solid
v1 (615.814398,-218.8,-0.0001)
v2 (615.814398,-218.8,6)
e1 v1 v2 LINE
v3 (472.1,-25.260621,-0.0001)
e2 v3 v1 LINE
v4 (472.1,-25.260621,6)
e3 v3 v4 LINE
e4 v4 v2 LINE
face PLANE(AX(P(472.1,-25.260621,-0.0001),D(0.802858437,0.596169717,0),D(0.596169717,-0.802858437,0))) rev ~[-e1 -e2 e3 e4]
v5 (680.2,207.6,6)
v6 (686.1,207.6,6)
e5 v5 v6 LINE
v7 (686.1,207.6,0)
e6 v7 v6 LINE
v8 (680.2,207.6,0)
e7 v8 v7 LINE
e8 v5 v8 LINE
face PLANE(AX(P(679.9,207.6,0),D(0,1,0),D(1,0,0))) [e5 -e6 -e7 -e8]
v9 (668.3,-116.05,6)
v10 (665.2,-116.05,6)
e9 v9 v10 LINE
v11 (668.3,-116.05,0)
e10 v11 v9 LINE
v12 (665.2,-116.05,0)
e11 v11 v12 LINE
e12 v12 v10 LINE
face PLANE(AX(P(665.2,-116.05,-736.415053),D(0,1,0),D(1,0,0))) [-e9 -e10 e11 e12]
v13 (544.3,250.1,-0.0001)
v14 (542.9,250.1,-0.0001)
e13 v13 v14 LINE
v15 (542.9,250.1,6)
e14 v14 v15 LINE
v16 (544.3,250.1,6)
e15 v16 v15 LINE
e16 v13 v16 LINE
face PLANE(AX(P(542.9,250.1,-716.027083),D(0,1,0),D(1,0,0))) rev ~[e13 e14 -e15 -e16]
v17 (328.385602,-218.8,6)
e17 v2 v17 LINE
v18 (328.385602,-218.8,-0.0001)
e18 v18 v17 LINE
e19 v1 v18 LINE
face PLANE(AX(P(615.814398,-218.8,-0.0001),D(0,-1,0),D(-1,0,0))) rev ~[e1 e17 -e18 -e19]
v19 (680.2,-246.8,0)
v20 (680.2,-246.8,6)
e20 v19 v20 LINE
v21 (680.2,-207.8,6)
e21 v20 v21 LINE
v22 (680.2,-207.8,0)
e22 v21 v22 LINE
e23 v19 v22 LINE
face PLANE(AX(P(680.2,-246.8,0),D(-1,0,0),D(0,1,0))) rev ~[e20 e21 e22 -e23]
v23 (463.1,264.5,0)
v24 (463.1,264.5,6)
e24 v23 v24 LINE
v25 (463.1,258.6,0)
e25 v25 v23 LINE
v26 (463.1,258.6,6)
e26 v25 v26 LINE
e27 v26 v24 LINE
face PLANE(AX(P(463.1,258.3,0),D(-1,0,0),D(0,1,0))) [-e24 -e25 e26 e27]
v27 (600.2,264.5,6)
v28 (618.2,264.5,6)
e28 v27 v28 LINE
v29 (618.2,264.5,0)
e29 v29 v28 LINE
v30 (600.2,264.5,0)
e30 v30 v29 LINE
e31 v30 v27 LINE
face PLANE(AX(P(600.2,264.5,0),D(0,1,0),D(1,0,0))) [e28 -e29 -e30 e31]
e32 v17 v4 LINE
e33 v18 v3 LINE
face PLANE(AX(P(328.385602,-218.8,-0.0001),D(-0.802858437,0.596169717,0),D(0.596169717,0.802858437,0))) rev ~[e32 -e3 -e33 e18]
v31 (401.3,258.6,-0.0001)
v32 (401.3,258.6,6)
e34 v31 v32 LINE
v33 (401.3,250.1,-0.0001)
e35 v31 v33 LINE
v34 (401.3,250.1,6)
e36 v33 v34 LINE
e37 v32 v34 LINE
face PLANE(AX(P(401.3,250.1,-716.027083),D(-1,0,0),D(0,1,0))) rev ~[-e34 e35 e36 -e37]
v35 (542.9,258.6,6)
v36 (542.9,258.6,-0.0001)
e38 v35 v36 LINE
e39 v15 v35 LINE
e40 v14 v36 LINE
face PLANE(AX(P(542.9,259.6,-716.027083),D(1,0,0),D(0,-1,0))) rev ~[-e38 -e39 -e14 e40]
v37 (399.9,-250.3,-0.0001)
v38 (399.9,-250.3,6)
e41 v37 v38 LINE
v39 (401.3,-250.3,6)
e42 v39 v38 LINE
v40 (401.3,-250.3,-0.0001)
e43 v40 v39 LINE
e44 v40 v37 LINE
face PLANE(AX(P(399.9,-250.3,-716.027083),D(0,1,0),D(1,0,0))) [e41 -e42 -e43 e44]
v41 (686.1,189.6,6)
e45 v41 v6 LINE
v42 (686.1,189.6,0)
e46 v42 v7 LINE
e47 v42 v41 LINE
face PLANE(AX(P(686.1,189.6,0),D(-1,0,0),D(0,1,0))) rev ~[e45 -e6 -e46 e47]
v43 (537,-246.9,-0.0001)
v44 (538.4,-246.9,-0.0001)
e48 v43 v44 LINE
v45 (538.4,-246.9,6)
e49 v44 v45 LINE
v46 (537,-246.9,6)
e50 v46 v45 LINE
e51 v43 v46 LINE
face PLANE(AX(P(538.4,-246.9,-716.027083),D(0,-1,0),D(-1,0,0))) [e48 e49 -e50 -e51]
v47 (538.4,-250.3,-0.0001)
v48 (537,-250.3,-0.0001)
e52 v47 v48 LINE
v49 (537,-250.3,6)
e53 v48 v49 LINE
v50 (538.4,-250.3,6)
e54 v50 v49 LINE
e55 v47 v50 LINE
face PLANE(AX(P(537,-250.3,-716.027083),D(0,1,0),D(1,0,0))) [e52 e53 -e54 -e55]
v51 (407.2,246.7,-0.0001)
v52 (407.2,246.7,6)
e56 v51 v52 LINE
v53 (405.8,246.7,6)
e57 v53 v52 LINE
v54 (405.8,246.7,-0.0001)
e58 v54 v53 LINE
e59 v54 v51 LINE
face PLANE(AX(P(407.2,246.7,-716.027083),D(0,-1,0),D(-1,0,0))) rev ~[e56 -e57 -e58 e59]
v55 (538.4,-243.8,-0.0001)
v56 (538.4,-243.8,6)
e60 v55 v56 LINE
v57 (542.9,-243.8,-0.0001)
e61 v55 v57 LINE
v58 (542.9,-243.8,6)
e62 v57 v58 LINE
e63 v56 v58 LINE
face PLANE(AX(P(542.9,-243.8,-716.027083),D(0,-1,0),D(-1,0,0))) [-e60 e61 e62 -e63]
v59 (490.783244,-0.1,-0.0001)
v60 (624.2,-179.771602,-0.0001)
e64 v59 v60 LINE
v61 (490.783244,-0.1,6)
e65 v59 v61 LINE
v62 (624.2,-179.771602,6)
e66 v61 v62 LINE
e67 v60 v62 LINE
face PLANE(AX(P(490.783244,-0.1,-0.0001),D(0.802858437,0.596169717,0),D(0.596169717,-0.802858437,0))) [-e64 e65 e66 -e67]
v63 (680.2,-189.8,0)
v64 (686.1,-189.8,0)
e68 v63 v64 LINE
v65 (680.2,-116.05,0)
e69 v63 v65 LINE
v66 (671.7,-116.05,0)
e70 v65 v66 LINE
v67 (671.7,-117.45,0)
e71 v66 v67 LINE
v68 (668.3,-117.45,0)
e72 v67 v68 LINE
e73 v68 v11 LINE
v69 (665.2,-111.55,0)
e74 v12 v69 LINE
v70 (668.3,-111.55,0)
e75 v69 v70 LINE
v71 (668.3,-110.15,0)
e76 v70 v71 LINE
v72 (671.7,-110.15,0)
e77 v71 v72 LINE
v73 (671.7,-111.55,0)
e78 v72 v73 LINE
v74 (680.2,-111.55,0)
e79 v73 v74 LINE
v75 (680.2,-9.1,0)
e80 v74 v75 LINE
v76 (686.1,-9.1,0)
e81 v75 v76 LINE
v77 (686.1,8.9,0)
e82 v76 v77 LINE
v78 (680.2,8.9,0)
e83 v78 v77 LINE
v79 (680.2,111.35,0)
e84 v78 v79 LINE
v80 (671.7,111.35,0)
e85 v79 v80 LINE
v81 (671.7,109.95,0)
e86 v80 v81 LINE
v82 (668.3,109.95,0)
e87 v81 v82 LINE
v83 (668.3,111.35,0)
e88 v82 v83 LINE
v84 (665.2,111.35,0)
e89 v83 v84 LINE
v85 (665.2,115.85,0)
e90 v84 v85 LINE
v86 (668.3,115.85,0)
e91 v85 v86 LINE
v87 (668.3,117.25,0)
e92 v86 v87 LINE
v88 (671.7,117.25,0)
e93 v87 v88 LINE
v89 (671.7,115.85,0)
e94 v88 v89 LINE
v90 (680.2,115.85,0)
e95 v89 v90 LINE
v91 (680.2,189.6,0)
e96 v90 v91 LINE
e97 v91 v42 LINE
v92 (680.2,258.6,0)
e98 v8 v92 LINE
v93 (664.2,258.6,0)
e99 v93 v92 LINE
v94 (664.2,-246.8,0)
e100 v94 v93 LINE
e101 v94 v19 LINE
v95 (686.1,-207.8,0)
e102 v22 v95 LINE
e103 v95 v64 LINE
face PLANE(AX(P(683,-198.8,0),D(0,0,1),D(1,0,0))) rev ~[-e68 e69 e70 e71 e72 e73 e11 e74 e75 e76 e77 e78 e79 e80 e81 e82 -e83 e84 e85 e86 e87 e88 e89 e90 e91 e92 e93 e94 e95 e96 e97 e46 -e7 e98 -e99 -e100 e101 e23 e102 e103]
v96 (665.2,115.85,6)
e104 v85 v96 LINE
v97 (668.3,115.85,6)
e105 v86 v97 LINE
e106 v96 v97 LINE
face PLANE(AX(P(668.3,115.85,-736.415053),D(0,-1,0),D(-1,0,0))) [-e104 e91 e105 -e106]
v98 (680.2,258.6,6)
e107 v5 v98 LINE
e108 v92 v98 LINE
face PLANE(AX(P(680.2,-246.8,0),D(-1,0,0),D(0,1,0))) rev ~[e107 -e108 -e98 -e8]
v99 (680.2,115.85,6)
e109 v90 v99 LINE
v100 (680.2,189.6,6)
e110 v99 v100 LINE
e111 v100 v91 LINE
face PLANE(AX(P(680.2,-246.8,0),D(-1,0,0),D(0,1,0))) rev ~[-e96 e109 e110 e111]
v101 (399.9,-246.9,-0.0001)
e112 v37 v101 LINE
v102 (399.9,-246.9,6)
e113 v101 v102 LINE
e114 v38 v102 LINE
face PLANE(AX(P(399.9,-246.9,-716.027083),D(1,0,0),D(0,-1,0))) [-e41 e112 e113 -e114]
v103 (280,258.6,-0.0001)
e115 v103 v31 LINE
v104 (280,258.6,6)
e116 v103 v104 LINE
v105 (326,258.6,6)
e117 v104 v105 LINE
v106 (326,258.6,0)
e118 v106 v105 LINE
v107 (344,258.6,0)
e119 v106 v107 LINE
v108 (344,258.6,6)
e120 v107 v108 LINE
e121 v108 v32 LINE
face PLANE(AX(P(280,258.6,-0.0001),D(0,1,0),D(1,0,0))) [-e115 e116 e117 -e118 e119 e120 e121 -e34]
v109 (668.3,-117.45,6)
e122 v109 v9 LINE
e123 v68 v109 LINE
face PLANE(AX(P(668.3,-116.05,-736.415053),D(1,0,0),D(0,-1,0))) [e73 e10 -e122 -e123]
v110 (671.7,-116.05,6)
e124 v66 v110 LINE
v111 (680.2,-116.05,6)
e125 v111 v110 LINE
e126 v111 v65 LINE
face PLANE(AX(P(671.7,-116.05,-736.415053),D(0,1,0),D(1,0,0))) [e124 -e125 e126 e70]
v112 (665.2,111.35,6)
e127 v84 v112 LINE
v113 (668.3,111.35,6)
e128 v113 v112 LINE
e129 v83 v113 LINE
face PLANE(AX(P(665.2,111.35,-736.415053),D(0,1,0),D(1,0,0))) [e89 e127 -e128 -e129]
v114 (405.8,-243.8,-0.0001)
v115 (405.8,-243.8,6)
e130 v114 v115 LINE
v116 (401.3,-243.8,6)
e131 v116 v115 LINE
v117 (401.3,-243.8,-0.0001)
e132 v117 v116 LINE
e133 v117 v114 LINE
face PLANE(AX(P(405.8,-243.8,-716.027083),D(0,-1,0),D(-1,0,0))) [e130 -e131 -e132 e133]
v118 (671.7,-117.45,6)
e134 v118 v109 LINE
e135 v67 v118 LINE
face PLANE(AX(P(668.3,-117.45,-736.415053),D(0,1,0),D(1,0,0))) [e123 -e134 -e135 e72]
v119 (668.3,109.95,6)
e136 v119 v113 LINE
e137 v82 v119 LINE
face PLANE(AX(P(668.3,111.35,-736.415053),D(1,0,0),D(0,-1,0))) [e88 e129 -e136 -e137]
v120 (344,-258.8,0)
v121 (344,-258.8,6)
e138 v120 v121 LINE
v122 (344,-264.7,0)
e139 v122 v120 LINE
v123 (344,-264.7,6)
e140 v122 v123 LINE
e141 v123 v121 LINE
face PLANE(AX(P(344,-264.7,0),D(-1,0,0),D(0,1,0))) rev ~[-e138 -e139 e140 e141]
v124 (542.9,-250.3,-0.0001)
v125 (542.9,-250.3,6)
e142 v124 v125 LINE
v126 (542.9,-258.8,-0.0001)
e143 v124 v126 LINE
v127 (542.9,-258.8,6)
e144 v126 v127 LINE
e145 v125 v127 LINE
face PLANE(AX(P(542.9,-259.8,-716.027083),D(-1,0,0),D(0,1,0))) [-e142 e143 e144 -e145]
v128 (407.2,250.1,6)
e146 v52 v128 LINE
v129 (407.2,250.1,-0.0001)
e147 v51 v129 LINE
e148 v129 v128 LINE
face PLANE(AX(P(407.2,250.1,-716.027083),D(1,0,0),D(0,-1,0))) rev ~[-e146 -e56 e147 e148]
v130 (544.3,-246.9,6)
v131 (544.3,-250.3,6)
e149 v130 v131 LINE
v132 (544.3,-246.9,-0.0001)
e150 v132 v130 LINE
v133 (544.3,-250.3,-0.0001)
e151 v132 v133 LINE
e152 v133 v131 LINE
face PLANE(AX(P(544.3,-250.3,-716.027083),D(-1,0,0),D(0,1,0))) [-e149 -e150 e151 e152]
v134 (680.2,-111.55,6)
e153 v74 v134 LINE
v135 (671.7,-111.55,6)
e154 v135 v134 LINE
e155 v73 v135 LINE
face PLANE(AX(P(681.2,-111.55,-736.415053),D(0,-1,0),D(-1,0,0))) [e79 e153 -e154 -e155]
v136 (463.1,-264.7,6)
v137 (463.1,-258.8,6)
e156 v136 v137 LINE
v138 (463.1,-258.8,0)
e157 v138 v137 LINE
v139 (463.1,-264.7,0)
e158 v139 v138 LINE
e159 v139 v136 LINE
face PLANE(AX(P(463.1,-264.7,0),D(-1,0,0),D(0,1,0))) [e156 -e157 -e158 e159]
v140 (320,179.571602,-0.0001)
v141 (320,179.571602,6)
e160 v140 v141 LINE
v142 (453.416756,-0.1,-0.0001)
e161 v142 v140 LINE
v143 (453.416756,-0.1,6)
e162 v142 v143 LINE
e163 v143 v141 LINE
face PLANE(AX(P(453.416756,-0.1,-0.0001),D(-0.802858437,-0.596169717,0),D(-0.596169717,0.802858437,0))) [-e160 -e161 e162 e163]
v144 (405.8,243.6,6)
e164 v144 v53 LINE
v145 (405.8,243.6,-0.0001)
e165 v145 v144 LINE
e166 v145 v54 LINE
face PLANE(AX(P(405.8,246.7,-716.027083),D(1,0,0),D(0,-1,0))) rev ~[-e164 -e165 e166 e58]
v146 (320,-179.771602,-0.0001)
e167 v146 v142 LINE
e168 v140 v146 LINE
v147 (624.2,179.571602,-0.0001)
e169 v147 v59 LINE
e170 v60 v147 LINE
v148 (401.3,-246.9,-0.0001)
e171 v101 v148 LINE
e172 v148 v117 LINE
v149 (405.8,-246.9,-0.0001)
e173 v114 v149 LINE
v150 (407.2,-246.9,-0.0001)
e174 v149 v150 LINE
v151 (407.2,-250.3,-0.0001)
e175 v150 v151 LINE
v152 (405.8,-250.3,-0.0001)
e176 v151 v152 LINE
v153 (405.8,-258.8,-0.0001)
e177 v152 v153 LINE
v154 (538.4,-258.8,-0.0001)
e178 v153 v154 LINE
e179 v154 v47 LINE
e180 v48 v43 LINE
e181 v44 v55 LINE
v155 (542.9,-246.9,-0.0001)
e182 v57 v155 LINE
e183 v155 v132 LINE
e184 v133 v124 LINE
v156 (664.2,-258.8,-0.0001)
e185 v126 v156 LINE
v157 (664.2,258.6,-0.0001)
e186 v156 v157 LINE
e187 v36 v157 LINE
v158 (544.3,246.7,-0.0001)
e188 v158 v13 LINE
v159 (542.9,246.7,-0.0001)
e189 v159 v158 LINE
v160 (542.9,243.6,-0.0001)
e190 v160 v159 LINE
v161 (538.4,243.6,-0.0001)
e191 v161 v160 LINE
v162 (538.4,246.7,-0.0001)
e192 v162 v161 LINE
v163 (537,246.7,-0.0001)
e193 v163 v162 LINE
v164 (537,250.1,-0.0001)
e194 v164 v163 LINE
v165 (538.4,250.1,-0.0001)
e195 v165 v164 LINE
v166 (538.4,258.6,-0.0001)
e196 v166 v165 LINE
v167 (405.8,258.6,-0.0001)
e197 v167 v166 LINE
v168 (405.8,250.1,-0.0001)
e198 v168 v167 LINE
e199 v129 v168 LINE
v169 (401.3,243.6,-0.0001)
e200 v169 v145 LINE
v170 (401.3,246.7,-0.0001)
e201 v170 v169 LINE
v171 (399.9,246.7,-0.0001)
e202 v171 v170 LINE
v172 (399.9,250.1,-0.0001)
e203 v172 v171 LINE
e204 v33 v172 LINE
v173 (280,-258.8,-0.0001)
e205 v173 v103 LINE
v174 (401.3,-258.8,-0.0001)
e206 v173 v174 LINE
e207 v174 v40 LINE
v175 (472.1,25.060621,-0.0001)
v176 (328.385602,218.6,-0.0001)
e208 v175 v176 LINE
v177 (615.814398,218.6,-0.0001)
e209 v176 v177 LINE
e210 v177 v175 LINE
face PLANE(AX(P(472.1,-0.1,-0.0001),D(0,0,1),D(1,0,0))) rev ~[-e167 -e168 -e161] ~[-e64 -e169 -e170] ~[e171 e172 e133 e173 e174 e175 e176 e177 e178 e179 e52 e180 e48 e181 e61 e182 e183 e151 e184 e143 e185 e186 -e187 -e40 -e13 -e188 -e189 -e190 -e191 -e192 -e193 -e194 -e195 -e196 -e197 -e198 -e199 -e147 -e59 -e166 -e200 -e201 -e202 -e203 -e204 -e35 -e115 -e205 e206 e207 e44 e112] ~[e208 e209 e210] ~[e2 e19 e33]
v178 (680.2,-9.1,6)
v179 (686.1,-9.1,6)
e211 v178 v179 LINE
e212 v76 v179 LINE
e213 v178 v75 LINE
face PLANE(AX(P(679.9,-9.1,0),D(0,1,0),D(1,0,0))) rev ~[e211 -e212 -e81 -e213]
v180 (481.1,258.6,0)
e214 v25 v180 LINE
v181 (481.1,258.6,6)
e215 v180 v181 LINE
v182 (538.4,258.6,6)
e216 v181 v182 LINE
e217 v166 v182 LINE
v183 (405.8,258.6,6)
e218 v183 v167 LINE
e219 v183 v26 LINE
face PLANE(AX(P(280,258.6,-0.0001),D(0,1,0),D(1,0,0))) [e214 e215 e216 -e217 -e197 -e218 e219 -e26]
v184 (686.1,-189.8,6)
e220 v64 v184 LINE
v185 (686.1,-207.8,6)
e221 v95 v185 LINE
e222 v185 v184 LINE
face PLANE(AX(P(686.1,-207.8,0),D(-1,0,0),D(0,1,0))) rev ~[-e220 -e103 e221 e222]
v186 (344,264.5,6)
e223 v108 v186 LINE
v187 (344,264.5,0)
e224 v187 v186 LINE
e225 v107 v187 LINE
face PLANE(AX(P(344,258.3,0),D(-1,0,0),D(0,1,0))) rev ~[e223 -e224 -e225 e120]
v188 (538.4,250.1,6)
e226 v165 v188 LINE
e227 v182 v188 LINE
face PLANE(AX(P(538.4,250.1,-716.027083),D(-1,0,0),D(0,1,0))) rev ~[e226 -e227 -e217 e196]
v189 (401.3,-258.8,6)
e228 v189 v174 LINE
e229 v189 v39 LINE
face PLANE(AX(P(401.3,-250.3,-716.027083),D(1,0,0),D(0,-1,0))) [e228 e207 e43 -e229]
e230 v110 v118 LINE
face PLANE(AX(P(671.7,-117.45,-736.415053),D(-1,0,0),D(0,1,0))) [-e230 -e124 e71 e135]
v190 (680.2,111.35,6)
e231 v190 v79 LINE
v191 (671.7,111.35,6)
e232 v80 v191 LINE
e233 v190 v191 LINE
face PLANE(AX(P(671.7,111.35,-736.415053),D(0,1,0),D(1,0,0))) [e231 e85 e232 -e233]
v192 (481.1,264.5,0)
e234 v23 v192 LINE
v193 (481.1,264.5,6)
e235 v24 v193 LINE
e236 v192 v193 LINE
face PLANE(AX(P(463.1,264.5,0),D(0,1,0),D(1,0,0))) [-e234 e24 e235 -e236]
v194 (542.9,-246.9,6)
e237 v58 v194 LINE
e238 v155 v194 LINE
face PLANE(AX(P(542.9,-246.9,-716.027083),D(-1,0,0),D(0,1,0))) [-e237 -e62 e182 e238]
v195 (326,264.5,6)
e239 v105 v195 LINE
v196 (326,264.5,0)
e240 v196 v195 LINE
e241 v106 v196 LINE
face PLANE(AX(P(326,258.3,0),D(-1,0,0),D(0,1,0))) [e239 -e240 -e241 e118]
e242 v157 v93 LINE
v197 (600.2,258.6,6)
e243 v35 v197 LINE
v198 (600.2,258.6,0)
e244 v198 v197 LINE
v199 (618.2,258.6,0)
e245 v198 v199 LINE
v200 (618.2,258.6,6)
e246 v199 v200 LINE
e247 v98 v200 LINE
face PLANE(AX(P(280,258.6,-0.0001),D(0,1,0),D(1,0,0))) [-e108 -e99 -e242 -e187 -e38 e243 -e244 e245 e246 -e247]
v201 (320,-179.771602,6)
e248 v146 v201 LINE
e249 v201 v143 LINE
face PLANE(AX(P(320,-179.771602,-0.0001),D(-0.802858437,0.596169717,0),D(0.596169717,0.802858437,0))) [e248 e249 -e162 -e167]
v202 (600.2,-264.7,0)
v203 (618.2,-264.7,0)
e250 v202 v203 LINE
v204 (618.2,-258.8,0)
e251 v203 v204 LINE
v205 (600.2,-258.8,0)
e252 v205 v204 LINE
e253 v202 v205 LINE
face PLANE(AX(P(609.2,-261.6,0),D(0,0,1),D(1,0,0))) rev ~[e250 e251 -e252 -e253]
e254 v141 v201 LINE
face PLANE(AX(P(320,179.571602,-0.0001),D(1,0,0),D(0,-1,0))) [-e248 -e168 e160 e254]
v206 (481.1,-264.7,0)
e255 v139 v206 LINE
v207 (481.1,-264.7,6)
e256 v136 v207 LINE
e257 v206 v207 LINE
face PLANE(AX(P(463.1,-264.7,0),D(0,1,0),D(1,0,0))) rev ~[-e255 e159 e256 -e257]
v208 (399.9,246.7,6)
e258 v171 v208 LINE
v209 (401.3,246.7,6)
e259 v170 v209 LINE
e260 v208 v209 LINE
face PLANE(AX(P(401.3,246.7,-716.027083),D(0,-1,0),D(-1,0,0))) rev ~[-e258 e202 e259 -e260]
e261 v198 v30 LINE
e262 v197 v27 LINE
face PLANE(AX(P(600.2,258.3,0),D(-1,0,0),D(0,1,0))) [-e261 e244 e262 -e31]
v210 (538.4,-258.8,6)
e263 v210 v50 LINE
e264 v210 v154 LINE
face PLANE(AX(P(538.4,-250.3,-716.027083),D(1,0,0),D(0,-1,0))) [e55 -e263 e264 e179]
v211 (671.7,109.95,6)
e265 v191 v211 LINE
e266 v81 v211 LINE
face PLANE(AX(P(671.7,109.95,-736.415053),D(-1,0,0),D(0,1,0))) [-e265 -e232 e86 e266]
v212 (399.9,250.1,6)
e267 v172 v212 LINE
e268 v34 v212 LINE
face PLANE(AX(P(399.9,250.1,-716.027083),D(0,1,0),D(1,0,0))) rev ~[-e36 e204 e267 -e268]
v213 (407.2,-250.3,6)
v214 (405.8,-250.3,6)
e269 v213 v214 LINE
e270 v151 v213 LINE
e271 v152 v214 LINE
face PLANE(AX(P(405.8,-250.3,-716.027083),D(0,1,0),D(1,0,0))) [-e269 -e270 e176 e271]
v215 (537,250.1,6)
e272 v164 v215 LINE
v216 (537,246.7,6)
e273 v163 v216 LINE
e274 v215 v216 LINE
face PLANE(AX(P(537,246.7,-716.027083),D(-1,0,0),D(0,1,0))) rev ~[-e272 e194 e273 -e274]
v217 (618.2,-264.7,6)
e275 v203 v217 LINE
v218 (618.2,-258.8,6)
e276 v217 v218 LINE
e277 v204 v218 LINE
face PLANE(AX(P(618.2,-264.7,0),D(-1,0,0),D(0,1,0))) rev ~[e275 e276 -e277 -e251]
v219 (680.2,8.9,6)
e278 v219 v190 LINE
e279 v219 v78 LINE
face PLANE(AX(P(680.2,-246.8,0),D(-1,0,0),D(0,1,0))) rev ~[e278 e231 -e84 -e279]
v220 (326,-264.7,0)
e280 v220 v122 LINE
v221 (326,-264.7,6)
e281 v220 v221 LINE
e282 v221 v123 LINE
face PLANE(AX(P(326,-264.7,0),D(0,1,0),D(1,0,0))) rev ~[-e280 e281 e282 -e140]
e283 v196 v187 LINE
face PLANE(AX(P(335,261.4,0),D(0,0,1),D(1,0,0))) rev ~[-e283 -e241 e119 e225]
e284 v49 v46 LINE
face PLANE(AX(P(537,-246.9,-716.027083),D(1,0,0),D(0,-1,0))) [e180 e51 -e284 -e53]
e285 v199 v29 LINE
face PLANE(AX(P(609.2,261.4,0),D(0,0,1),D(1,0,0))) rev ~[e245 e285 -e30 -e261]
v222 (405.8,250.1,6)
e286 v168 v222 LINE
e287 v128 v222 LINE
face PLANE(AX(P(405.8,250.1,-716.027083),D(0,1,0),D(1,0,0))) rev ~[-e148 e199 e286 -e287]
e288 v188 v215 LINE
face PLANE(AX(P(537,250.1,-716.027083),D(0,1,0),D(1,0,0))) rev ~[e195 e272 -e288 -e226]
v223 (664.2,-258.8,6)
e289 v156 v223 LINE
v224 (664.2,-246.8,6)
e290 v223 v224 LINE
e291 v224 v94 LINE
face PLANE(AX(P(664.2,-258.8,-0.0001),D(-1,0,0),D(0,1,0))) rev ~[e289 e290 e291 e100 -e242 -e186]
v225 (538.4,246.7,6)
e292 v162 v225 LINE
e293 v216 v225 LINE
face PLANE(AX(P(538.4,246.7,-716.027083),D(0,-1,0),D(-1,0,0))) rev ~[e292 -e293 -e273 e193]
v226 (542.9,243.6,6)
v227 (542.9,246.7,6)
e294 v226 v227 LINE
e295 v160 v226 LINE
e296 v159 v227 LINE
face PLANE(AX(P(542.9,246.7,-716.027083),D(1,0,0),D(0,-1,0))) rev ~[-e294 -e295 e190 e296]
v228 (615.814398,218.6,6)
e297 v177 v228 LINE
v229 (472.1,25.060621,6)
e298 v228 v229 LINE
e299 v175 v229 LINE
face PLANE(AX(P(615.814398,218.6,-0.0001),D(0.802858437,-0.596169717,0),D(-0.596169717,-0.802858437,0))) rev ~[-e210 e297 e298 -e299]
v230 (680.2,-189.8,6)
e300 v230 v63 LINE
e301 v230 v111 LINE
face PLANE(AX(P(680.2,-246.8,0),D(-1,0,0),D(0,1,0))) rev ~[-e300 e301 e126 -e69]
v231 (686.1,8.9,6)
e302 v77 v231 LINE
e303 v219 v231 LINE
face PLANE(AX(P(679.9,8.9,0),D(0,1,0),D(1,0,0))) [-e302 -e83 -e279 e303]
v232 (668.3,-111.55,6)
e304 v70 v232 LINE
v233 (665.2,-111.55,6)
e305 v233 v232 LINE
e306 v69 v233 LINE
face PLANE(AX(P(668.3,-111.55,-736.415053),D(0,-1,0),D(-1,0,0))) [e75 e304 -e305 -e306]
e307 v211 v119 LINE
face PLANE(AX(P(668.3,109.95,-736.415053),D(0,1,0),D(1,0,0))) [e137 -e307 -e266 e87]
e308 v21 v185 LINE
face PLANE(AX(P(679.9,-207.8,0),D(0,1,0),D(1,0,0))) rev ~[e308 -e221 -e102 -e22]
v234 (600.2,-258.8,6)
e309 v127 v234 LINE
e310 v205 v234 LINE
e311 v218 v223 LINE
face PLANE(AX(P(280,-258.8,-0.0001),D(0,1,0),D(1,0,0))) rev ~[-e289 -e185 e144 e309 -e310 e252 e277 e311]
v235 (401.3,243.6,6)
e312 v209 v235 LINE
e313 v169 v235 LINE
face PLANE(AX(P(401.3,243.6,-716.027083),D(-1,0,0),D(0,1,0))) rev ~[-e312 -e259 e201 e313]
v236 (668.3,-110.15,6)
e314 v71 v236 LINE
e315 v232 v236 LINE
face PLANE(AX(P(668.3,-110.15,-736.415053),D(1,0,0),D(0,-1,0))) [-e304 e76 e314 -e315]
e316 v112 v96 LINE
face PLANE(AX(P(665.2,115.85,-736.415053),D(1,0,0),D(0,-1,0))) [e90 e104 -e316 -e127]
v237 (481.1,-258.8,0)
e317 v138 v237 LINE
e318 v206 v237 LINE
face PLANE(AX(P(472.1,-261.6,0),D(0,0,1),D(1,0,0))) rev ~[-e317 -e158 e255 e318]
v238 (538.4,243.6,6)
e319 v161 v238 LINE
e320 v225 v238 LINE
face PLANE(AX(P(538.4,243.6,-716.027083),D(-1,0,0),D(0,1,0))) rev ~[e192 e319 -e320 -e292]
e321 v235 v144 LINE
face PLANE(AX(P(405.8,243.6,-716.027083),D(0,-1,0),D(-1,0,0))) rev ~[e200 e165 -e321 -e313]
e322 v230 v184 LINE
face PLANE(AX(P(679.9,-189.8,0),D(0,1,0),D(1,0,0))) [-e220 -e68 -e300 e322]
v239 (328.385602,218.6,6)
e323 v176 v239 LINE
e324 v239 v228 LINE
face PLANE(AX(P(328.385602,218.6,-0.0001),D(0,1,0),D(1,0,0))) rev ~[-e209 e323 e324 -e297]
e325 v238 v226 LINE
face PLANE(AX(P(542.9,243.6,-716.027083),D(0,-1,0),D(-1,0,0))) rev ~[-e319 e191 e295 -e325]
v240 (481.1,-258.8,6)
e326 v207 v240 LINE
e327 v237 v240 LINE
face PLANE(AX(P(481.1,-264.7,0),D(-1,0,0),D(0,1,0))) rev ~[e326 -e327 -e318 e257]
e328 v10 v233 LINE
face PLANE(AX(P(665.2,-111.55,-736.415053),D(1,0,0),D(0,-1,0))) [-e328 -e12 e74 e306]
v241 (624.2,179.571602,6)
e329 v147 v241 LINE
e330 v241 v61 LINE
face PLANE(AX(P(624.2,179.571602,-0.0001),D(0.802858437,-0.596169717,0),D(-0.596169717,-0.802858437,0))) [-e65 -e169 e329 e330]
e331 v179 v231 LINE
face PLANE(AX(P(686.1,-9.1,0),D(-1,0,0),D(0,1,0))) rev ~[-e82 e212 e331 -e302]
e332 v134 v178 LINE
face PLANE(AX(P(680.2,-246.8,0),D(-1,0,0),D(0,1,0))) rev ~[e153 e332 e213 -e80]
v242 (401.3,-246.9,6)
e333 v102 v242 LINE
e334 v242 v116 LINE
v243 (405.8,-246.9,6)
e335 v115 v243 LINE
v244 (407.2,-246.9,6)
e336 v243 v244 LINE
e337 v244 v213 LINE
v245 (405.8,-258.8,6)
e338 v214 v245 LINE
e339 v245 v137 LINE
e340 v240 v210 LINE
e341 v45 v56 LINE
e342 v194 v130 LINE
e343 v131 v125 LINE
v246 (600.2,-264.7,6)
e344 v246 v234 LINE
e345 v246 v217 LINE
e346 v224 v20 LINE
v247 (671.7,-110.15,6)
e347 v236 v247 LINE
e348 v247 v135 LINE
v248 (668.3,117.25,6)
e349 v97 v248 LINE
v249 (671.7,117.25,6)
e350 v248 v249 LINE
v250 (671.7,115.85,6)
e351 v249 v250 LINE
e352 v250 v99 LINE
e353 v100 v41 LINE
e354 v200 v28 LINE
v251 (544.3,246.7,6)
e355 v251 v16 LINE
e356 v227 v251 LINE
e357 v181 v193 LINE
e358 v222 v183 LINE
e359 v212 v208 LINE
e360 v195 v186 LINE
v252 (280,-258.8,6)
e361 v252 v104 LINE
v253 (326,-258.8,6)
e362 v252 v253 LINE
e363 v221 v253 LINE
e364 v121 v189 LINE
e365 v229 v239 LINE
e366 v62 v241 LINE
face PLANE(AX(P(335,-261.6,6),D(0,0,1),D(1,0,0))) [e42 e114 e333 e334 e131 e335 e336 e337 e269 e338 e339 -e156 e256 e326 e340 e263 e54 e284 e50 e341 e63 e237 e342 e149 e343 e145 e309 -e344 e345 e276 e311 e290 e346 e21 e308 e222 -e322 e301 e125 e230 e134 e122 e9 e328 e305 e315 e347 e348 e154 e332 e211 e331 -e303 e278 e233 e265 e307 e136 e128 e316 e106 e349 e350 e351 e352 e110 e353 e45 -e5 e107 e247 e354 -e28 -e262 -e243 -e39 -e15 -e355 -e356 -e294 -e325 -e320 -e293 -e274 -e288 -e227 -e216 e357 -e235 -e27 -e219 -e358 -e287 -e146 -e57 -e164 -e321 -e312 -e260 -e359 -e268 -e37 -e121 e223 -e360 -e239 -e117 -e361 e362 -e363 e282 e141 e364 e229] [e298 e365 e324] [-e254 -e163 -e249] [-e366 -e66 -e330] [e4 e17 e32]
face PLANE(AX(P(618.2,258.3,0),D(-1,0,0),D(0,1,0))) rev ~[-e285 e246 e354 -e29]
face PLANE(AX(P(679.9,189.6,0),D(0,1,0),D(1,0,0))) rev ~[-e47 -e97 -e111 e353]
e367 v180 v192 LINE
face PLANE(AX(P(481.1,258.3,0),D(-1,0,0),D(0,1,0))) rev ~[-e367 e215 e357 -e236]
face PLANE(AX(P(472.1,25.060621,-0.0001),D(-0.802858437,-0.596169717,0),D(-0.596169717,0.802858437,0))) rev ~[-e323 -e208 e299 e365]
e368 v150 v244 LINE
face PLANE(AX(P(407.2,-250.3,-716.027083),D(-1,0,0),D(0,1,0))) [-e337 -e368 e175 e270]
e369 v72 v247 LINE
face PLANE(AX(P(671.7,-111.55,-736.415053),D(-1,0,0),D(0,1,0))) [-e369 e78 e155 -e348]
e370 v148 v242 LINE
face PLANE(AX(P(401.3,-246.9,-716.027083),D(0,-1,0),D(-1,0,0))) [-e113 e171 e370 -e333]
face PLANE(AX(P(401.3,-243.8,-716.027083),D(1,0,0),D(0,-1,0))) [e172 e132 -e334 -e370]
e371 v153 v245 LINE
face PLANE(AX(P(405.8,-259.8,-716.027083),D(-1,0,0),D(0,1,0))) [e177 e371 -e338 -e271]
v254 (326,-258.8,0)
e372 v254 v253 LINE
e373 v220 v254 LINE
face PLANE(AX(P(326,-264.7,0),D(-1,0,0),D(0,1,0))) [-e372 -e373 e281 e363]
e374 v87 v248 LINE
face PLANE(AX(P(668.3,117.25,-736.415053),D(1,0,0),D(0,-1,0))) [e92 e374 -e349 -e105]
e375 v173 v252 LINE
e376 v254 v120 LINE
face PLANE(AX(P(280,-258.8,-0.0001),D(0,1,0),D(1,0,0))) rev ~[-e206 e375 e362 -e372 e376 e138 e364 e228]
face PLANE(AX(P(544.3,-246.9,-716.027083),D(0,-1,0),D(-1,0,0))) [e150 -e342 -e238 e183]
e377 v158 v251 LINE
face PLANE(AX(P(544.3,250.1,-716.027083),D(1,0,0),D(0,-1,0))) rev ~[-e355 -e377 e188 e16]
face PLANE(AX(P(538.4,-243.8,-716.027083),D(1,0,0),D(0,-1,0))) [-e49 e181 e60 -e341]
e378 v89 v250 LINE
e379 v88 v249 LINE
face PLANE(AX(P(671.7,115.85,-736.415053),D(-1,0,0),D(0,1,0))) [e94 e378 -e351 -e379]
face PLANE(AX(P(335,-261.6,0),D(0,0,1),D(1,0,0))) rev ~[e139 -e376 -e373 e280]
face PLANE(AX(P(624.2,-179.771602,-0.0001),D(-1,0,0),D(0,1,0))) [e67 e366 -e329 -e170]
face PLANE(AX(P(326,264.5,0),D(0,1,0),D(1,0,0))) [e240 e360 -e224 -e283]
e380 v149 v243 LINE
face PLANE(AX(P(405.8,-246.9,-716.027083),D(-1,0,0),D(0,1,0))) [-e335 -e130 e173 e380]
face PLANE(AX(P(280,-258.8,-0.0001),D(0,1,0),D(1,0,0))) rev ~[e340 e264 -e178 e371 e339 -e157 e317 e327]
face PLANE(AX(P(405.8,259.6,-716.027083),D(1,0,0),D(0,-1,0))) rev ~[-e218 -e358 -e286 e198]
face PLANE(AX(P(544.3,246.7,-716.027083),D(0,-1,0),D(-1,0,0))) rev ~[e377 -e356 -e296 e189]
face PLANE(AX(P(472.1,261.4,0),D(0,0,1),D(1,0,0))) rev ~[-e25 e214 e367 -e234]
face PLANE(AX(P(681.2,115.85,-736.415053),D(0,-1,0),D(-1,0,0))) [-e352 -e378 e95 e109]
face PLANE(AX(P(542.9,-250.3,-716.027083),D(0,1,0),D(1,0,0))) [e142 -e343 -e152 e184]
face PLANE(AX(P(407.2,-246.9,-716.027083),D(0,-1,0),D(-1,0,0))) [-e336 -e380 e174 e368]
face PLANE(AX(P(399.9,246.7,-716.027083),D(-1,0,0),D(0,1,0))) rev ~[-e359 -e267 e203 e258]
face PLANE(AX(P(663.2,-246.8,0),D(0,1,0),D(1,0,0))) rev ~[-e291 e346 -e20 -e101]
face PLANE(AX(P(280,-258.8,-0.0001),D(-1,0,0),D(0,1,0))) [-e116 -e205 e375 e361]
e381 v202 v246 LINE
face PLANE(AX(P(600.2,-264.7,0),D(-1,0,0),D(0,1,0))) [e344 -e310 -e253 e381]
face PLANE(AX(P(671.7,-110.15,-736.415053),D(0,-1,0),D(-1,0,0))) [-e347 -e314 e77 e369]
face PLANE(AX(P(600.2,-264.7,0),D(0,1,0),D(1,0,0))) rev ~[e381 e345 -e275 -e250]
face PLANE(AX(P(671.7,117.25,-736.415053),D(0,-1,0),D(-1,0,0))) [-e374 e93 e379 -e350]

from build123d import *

# Parameters (mm, degrees)
EXTRUDE_1_DEPTH            = 6
EXTRUDE_1_DEPTH_BACK       = 0.0001
SKETCH_1_W                 = 384.2
SKETCH_1_H                 = 517.4
SKETCH_2562_W              = 18
SKETCH_2562_H              = 6.2
EXTRUDE_2573_DEPTH         = 6
CUT_EXTRUDE_4_DEPTH        = 716.027083403
CUT_EXTRUDE_4_DEPTH_BACK   = 716.027083403
SKETCH_2698_W              = 17
SKETCH_2698_H              = 505.4
EXTRUDE_2764_DEPTH         = 6
SKETCH_2820_W              = 6.2
SKETCH_2820_H              = 18
EXTRUDE_2968_DEPTH         = 6
CUT_EXTRUDE_4_2_DEPTH      = 736.415052878
CUT_EXTRUDE_4_2_DEPTH_BACK = 736.415052878


with BuildPart() as part:
    # Эскиз1 → Бобышка-Вытянуть1 (new, two sides: drawn at the far end of the back side and taken through both)
    with BuildSketch(Plane.XY.offset(-EXTRUDE_1_DEPTH_BACK)):
        with Locations((472.1, -0.1)):
            Rectangle(SKETCH_1_W, SKETCH_1_H)
        Polygon((624.2, 179.571602285), (490.783243916, -0.1), (624.2, -179.771602285), align=None, mode=Mode.SUBTRACT)
        Polygon((615.81439814, 218.6), (472.1, 25.060620516), (328.38560186, 218.6), align=None, mode=Mode.SUBTRACT)
        Polygon((615.81439814, -218.8), (328.38560186, -218.8), (472.1, -25.260620516), align=None, mode=Mode.SUBTRACT)
        Polygon((320, 179.571602285), (320, -179.771602285), (453.416756084, -0.1), align=None, mode=Mode.SUBTRACT)
    extrude(amount=EXTRUDE_1_DEPTH + EXTRUDE_1_DEPTH_BACK)

    # Sketch 2562 → Extrude 2573 (add)
    with BuildSketch(Plane.XY):
        with Locations((335, -261.6)):
            Rectangle(SKETCH_2562_W, SKETCH_2562_H)
        with Locations((472.1, -261.6)):
            Rectangle(SKETCH_2562_W, SKETCH_2562_H)
        with Locations((609.2, -261.6)):
            Rectangle(SKETCH_2562_W, SKETCH_2562_H)
        with Locations((335, 261.4)):
            Rectangle(SKETCH_2562_W, SKETCH_2562_H)
        with Locations((472.1, 261.4)):
            Rectangle(SKETCH_2562_W, SKETCH_2562_H)
        with Locations((609.2, 261.4)):
            Rectangle(SKETCH_2562_W, SKETCH_2562_H)
    extrude(amount=EXTRUDE_2573_DEPTH)

    # Sketch 4 → Cut-Extrude 4 (cut, two sides: drawn at the far end of the back side and taken through both)
    with BuildSketch(Plane.XY.offset(-CUT_EXTRUDE_4_DEPTH_BACK)):
        Polygon((401.3, -259.8), (405.8, -259.8), (405.8, -250.3), (407.2, -250.3), (407.2, -246.9), (405.8, -246.9), (405.8, -243.8), (401.3, -243.8), (401.3, -246.9), (399.9, -246.9), (399.9, -250.3), (401.3, -250.3), align=None)
        Polygon((538.4, -259.8), (542.9, -259.8), (542.9, -250.3), (544.3, -250.3), (544.3, -246.9), (542.9, -246.9), (542.9, -243.8), (538.4, -243.8), (538.4, -246.9), (537, -246.9), (537, -250.3), (538.4, -250.3), align=None)
        Polygon((401.3, 259.6), (405.8, 259.6), (405.8, 250.1), (407.2, 250.1), (407.2, 246.7), (405.8, 246.7), (405.8, 243.6), (401.3, 243.6), (401.3, 246.7), (399.9, 246.7), (399.9, 250.1), (401.3, 250.1), align=None)
        Polygon((538.4, 259.6), (542.9, 259.6), (542.9, 250.1), (544.3, 250.1), (544.3, 246.7), (542.9, 246.7), (542.9, 243.6), (538.4, 243.6), (538.4, 246.7), (537, 246.7), (537, 250.1), (538.4, 250.1), align=None)
    extrude(amount=CUT_EXTRUDE_4_DEPTH + CUT_EXTRUDE_4_DEPTH_BACK, mode=Mode.SUBTRACT)

    # Sketch 2698 → Extrude 2764 (add)
    with BuildSketch(Plane.XY):
        with Locations((671.7, 5.9)):
            Rectangle(SKETCH_2698_W, SKETCH_2698_H)
    extrude(amount=EXTRUDE_2764_DEPTH)

    # Sketch 2820 → Extrude 2968 (add)
    with BuildSketch(Plane.XY):
        with Locations((683, -198.8)):
            Rectangle(SKETCH_2820_W, SKETCH_2820_H)
        with Locations((683, -0.1)):
            Rectangle(SKETCH_2820_W, SKETCH_2820_H)
        with Locations((683, 198.6)):
            Rectangle(SKETCH_2820_W, SKETCH_2820_H)
    extrude(amount=EXTRUDE_2968_DEPTH)

    # Sketch 4 2 → Cut-Extrude 4 2 (cut, two sides: drawn at the far end of the back side and taken through both)
    with BuildSketch(Plane.XY.offset(-CUT_EXTRUDE_4_2_DEPTH_BACK)):
        Polygon((681.2, -116.05), (681.2, -111.55), (671.7, -111.55), (671.7, -110.15), (668.3, -110.15), (668.3, -111.55), (665.2, -111.55), (665.2, -116.05), (668.3, -116.05), (668.3, -117.45), (671.7, -117.45), (671.7, -116.05), align=None)
        Polygon((681.2, 111.35), (681.2, 115.85), (671.7, 115.85), (671.7, 117.25), (668.3, 117.25), (668.3, 115.85), (665.2, 115.85), (665.2, 111.35), (668.3, 111.35), (668.3, 109.95), (671.7, 109.95), (671.7, 111.35), align=None)
    extrude(amount=CUT_EXTRUDE_4_2_DEPTH + CUT_EXTRUDE_4_2_DEPTH_BACK, mode=Mode.SUBTRACT)


solid = part.part
